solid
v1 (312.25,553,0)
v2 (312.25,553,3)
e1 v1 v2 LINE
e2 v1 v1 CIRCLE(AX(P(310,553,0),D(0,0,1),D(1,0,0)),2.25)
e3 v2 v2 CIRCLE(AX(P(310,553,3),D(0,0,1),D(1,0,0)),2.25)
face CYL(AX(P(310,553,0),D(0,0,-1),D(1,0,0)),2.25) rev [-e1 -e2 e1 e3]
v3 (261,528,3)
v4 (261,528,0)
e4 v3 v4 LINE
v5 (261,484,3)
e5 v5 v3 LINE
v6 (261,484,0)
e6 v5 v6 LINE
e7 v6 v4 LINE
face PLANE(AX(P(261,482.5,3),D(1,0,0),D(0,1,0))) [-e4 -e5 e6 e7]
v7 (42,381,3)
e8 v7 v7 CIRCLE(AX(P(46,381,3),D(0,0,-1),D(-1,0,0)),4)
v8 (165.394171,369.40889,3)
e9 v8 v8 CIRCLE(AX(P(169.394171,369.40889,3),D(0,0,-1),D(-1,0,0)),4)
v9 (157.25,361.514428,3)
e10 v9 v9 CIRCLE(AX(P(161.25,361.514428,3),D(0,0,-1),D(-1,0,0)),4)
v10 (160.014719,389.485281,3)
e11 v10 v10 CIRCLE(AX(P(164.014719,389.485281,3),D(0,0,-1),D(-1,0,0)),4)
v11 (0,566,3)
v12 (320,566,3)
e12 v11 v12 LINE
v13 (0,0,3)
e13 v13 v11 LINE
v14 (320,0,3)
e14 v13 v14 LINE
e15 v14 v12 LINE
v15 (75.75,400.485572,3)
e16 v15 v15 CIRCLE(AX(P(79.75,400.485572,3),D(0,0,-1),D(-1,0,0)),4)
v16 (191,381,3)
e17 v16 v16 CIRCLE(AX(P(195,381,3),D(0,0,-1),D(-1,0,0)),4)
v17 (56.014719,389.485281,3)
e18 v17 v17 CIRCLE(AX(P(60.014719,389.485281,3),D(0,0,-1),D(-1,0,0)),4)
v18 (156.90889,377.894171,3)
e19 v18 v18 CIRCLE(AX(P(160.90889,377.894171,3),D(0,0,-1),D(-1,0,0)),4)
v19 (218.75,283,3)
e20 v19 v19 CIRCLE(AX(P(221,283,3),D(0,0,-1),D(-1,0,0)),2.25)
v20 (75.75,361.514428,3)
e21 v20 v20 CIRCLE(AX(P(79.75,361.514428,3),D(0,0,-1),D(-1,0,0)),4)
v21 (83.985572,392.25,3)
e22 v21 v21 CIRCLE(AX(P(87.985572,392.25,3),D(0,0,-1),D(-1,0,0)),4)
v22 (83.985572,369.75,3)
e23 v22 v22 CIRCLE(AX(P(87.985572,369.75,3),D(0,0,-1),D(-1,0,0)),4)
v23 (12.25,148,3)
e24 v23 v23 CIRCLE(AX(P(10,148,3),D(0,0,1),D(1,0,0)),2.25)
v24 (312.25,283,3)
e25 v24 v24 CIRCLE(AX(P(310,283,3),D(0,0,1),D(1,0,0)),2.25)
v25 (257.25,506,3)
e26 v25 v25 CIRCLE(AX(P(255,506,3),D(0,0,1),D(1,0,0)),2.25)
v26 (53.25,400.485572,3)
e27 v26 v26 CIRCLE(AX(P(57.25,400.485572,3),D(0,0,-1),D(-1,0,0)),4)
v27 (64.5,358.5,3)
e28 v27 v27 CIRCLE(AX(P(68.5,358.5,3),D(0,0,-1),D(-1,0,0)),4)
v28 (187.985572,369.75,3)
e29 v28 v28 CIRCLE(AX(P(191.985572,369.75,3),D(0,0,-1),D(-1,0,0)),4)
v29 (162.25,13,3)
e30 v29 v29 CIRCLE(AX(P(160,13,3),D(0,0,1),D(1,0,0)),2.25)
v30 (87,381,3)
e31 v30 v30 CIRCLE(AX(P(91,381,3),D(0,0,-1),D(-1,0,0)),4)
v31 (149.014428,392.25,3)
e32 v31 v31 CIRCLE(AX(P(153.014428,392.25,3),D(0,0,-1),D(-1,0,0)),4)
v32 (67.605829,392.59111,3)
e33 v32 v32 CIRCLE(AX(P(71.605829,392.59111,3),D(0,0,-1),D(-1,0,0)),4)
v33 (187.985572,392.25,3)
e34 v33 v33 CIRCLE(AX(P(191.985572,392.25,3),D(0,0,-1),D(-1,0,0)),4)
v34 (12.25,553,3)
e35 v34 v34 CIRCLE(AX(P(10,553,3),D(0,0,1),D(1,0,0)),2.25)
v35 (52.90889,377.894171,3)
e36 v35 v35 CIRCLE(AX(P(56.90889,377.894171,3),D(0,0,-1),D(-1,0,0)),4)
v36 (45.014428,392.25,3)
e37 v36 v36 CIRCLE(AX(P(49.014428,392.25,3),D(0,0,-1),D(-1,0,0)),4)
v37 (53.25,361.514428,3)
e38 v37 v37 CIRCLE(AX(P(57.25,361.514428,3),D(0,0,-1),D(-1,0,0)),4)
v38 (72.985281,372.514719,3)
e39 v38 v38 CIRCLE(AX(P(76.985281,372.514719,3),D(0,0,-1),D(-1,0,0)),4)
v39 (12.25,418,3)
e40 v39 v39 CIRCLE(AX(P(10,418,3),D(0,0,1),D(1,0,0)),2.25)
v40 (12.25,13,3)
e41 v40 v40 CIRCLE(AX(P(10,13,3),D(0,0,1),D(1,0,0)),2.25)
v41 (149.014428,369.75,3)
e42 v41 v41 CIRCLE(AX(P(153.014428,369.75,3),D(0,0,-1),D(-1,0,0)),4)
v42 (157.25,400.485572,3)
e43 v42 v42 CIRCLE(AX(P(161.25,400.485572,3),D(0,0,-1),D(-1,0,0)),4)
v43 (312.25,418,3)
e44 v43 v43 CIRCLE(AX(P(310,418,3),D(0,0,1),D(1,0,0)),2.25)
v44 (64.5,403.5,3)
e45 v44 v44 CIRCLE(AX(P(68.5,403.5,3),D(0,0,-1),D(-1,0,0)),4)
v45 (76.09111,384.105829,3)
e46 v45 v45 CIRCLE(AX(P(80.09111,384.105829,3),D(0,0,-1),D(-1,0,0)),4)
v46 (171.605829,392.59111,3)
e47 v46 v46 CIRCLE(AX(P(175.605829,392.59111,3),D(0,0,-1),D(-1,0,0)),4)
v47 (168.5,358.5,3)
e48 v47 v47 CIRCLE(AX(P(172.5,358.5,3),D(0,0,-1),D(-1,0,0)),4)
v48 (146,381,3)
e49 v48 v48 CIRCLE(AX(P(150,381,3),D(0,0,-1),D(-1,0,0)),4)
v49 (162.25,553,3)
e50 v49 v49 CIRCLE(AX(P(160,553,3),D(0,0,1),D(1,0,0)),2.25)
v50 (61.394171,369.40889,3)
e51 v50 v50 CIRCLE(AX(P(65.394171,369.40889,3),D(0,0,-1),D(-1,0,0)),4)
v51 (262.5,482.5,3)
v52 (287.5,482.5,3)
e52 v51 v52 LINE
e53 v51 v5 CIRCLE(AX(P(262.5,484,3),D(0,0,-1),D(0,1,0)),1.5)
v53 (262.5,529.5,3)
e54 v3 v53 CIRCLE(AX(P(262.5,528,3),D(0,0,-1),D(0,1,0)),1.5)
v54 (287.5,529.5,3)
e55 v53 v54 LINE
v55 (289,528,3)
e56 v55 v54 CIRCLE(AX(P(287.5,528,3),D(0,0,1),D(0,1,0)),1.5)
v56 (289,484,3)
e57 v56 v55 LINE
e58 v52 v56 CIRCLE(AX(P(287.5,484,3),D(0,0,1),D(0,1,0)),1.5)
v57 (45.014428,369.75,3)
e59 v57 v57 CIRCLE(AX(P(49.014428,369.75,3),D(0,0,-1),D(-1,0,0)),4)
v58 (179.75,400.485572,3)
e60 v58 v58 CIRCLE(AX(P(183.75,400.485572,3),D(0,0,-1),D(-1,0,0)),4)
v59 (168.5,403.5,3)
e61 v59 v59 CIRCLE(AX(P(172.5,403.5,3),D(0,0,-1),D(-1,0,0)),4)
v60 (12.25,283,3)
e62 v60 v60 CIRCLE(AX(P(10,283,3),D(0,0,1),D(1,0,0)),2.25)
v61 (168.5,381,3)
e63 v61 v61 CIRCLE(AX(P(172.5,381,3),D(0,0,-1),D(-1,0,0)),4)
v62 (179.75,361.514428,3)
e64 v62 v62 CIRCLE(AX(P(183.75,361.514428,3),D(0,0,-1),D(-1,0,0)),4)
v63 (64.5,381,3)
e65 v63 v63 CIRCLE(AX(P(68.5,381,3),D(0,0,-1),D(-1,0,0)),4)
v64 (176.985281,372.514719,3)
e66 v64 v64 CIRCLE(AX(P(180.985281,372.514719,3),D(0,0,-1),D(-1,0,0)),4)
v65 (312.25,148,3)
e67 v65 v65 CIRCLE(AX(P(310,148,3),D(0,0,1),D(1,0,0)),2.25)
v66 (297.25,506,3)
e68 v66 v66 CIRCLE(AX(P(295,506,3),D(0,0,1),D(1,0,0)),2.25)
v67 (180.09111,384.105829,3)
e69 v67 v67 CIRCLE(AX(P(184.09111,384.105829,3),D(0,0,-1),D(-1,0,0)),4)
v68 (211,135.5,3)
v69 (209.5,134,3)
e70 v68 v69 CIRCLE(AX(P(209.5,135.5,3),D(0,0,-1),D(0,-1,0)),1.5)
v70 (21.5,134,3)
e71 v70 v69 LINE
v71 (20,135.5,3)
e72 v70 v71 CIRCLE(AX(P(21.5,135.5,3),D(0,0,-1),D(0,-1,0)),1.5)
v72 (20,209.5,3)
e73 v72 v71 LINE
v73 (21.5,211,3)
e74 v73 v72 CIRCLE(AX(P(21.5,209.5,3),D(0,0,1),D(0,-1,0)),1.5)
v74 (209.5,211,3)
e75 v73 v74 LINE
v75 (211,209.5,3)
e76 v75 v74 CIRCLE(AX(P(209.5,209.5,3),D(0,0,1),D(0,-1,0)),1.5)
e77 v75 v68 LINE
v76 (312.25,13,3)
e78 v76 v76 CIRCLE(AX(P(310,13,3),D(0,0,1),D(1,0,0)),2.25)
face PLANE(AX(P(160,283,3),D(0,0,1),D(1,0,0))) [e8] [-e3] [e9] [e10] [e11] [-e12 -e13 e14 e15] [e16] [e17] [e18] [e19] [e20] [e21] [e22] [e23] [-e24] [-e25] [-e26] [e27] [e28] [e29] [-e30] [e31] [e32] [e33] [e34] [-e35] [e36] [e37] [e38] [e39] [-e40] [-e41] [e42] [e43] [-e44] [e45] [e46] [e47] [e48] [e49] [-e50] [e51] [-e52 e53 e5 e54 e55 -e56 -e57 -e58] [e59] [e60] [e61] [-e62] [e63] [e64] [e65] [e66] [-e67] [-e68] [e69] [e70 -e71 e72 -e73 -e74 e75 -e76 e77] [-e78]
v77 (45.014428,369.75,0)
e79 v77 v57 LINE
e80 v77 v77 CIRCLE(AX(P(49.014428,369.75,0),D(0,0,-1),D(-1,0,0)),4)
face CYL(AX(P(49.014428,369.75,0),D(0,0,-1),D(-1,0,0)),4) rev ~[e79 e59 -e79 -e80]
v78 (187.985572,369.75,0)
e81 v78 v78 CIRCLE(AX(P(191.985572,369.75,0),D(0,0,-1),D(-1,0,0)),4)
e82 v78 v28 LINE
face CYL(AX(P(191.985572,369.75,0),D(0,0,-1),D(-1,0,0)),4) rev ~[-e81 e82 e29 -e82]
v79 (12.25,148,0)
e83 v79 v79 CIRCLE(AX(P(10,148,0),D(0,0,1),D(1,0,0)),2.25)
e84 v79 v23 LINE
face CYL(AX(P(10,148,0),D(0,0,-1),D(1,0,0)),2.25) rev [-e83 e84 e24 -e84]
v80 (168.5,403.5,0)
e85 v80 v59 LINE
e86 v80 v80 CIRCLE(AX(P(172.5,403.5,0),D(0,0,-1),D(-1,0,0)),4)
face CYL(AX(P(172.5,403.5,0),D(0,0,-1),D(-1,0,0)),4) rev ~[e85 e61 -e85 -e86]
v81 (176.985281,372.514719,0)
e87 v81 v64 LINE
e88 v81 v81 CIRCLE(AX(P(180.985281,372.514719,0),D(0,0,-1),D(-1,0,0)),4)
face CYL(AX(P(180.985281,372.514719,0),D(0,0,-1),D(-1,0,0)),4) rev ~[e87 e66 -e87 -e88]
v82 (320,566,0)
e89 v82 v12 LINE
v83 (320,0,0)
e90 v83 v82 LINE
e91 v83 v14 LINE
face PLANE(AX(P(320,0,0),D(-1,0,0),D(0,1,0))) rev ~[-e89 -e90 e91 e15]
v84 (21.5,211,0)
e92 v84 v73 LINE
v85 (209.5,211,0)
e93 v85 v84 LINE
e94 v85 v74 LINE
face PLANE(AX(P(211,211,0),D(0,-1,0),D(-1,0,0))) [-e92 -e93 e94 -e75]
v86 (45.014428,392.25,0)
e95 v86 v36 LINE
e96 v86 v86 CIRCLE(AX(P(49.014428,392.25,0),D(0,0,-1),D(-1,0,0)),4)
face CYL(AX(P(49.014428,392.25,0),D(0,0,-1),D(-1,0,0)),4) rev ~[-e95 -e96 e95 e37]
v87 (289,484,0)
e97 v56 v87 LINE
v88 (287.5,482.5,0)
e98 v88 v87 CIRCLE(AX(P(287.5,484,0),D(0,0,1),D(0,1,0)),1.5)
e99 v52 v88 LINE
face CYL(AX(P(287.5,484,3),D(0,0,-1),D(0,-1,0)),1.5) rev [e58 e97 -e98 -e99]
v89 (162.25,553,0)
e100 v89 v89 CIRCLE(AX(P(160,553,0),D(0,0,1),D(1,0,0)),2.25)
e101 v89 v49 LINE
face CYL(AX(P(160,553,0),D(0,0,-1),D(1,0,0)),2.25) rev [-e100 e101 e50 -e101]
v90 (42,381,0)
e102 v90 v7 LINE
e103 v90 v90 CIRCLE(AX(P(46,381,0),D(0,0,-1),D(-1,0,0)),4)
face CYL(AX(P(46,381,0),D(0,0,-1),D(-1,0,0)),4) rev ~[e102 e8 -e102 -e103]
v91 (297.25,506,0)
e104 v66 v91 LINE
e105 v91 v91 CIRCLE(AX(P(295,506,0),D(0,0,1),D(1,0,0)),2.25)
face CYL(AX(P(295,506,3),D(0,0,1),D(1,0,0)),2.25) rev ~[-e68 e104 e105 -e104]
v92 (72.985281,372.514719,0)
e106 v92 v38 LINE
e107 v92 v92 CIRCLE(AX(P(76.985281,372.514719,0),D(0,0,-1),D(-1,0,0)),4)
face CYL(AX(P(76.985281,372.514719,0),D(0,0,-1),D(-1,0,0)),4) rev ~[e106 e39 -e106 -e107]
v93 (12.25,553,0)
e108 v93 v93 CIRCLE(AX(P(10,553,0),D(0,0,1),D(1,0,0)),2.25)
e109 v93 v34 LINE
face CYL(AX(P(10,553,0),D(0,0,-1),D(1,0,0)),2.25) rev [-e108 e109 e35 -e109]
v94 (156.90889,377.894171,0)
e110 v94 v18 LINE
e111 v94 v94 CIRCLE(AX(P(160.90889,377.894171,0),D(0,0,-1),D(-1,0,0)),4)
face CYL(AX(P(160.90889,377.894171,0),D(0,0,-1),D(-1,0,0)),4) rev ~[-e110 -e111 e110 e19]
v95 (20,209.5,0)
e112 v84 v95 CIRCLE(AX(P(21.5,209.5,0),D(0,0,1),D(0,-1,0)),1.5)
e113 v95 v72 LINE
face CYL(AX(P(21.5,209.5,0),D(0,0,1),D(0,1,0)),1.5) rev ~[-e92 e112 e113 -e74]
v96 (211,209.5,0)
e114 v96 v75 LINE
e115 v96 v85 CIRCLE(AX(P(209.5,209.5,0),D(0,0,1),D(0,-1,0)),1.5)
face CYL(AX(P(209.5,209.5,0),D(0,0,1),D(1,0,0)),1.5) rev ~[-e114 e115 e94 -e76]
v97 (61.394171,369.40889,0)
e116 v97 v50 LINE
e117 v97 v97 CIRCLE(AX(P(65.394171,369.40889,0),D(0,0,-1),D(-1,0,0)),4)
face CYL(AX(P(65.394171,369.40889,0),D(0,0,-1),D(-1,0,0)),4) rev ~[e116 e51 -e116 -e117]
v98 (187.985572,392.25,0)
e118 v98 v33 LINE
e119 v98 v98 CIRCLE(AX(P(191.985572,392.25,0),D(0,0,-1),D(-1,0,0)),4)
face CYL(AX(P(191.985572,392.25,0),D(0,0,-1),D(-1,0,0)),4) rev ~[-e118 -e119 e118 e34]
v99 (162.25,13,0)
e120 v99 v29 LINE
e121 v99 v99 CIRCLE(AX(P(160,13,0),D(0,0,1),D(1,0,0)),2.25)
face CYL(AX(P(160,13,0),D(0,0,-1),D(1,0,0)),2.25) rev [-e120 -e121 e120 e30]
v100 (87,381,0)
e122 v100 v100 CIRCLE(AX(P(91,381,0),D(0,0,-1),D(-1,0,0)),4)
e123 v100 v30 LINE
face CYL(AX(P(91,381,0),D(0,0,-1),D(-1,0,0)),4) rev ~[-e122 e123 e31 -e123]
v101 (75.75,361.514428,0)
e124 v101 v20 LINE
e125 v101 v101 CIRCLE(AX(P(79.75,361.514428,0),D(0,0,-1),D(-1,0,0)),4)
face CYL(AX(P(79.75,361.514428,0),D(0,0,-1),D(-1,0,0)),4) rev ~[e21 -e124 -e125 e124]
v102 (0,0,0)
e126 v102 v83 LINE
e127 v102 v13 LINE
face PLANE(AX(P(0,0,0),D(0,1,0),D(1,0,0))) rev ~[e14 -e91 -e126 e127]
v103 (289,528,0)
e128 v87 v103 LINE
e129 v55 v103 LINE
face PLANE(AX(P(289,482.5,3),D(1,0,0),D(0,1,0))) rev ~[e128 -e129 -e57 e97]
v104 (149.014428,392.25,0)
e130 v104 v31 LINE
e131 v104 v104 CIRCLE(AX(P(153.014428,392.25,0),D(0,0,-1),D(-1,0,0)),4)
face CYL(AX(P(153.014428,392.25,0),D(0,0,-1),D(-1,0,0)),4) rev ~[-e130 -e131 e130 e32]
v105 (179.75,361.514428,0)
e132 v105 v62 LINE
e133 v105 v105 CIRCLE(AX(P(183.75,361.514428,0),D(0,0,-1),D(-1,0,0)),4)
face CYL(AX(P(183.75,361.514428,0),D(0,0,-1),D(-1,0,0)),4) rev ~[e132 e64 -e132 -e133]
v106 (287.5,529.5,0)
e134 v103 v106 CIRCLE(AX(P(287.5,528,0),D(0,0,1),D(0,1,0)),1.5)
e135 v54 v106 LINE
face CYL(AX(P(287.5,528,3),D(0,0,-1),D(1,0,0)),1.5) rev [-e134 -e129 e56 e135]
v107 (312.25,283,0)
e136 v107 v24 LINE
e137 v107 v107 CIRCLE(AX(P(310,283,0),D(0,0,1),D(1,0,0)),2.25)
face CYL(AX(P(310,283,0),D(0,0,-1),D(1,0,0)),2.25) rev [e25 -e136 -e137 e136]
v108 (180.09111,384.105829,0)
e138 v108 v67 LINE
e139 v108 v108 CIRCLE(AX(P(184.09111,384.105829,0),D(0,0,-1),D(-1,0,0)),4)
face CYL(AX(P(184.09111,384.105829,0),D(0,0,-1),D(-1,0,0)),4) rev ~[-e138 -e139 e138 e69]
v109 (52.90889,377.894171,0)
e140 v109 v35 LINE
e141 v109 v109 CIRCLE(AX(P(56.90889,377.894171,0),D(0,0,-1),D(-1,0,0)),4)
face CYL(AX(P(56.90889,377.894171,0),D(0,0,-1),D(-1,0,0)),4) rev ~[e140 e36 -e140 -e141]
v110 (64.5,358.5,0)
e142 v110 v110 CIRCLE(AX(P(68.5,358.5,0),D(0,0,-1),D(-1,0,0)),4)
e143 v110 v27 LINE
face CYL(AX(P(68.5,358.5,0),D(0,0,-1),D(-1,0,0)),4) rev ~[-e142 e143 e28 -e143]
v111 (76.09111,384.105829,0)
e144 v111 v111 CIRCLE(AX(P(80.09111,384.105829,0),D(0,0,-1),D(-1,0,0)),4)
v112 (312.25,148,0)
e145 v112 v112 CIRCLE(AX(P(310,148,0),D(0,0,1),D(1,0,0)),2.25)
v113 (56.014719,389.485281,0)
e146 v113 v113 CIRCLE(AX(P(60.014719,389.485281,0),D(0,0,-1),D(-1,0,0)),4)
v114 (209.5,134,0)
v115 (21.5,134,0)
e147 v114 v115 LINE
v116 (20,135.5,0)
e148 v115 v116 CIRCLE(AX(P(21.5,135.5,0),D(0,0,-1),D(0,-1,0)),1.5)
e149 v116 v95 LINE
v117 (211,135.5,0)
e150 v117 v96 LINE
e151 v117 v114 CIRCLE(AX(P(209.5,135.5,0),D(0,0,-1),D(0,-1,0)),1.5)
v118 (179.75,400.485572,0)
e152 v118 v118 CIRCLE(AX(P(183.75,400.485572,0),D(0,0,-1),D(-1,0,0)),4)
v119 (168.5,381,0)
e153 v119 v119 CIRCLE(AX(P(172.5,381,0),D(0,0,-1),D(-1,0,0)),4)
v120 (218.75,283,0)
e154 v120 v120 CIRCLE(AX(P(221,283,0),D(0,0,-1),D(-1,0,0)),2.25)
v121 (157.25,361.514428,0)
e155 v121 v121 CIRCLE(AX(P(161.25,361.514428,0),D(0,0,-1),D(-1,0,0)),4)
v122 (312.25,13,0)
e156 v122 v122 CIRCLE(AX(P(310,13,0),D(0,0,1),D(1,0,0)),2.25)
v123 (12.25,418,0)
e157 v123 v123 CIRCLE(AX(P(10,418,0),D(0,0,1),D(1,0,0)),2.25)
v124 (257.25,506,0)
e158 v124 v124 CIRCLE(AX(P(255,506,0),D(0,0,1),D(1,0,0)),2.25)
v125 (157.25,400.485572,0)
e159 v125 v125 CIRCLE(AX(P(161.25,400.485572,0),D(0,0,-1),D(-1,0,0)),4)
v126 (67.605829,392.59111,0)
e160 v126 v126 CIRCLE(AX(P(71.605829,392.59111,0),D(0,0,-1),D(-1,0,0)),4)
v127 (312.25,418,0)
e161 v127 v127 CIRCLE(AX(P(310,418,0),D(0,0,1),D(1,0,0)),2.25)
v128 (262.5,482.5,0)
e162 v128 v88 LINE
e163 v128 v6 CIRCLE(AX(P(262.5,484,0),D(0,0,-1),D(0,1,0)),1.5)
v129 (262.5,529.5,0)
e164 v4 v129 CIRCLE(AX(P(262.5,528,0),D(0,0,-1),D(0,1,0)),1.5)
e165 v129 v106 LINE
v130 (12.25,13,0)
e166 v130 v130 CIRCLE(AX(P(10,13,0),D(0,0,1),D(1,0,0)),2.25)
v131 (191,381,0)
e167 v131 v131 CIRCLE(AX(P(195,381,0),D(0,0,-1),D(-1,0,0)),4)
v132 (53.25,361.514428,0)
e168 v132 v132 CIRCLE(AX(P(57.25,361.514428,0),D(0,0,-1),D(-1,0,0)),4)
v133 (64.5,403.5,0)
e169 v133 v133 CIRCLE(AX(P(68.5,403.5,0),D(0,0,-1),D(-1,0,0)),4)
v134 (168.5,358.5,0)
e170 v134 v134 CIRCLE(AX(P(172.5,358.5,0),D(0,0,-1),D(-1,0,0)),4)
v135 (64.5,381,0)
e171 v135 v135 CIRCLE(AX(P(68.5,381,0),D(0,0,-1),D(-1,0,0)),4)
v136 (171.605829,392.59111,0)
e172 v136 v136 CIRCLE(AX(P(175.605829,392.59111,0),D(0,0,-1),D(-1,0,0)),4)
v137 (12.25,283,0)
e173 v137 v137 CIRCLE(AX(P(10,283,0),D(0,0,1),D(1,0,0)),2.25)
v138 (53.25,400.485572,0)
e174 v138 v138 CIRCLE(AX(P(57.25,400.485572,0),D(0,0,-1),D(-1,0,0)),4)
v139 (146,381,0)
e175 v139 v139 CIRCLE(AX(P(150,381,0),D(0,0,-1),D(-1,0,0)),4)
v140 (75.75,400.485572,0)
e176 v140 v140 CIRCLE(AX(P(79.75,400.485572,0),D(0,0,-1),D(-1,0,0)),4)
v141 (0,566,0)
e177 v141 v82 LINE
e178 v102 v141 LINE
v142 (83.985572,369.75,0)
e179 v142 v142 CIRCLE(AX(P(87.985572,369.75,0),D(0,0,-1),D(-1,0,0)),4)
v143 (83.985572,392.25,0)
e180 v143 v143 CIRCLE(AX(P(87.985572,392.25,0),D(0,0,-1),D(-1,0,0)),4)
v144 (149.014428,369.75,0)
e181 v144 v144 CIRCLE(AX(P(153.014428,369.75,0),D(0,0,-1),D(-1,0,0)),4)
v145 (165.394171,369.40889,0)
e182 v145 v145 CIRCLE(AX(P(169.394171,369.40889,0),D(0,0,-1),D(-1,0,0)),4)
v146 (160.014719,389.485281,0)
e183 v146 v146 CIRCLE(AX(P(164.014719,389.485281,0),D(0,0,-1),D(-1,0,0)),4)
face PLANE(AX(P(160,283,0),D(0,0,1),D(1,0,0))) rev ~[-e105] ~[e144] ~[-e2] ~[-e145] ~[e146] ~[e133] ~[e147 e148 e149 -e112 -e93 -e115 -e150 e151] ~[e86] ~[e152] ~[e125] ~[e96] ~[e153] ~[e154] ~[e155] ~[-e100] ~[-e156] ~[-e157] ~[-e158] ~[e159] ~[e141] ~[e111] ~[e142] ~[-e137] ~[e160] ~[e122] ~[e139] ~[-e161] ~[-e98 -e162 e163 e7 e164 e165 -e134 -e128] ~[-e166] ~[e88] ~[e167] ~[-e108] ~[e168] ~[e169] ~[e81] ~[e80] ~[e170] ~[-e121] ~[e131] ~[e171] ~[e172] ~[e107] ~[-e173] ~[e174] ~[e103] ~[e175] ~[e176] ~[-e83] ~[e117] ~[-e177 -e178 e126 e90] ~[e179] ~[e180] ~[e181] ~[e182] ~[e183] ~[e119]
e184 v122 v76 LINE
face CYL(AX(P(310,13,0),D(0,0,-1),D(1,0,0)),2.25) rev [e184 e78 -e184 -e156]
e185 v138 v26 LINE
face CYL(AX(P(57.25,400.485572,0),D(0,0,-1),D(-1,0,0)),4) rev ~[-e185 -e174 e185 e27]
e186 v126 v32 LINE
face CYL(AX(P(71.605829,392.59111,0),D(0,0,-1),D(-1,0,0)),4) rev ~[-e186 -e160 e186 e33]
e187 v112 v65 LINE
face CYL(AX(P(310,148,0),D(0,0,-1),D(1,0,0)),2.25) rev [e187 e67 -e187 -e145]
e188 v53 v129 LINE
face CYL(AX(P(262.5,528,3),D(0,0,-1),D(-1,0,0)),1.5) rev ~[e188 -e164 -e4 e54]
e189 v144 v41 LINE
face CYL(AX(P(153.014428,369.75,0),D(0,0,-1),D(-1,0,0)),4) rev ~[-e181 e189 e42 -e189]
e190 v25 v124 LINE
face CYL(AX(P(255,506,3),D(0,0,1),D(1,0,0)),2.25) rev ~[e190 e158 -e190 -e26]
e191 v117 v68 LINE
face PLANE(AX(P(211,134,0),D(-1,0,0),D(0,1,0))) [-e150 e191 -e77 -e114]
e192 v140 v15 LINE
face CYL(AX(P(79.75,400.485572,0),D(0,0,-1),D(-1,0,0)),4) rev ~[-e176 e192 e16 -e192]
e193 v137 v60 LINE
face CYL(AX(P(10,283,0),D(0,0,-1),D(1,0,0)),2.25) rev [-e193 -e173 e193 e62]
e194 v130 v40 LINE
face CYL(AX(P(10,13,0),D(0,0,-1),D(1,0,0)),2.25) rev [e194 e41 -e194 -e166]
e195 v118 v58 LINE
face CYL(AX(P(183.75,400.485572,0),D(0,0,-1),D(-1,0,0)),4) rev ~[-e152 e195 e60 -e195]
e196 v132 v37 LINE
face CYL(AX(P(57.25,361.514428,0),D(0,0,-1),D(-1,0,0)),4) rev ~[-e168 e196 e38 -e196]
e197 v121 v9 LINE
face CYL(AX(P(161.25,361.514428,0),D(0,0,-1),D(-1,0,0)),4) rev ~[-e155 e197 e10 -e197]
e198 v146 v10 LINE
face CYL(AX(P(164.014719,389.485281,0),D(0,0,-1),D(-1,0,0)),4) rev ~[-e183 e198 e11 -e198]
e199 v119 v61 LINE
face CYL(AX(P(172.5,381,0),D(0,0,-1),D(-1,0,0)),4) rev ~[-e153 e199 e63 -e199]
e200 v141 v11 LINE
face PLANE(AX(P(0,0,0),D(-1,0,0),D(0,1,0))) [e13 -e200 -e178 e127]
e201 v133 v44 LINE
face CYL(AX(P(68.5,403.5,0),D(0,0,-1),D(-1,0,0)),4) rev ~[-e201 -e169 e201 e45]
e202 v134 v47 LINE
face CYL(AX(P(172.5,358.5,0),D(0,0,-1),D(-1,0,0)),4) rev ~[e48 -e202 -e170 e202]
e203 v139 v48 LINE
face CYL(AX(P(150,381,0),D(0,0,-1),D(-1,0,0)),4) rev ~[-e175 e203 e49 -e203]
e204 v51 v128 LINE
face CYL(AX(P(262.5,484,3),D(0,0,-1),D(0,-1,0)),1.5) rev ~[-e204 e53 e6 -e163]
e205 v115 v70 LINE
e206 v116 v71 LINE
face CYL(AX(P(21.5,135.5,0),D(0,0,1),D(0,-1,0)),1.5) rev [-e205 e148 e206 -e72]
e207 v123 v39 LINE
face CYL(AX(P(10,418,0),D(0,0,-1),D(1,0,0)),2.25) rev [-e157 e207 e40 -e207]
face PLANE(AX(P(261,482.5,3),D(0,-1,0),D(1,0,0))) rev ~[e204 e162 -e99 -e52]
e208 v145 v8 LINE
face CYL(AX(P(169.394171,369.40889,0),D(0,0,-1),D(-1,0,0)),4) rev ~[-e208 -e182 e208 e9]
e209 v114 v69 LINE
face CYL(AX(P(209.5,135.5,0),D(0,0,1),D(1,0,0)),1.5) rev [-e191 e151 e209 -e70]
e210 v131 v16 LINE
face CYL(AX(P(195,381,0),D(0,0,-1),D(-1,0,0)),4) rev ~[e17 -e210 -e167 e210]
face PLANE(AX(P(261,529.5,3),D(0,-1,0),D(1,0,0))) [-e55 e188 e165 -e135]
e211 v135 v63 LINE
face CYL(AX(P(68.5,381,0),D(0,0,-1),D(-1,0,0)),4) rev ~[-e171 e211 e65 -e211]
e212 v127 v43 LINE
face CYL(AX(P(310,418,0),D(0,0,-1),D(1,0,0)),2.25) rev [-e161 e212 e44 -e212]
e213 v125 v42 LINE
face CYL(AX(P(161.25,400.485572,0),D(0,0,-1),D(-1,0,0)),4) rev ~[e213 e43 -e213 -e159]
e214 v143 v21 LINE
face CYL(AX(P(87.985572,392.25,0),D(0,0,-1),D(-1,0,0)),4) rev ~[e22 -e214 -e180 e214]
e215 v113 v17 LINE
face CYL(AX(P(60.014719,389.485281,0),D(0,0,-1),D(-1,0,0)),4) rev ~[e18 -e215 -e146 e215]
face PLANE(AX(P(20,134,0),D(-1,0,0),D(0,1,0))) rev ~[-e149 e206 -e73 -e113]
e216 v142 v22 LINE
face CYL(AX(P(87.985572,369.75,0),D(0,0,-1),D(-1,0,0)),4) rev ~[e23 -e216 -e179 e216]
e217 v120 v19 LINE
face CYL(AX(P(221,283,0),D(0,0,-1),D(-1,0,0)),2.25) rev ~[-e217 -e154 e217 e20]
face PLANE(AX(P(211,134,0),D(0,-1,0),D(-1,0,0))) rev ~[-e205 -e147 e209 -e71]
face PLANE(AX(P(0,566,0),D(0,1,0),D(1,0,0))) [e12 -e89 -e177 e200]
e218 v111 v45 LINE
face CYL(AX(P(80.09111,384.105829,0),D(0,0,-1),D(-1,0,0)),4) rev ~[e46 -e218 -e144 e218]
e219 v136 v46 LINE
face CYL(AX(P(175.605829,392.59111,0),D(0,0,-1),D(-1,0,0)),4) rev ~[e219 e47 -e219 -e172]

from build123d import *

# Parameters (mm, degrees)
SKETCH_1_W          = 320
SKETCH_1_H          = 566
SKETCH_1_R          = 2.25
EXTRUDE_1_DEPTH     = 3
SKETCH_3_W          = 191
SKETCH_3_H          = 77
CUT_EXTRUDE_2_DEPTH = 4
SKETCH3_R           = 2.25
CUT_EXTRUDE1_DEPTH  = 4
SKETCH_4_R          = 2.25
SKETCH_4_W          = 28
SKETCH_4_H          = 47
CUT_EXTRUDE_3_DEPTH = 4
FILLET_1_R          = 1.5
SKETCH_5_R          = 4
CUT_EXTRUDE_4_DEPTH = 4
FILLET_2_R          = 1.5


with BuildPart() as part:
    # Эскиз1 → Бобышка-Вытянуть1 (new body)
    with BuildSketch(Plane.XY):
        with Locations((160, 283)):
            Rectangle(SKETCH_1_W, SKETCH_1_H)
        with Locations((10, 553)):
            Circle(SKETCH_1_R, mode=Mode.SUBTRACT)
        with Locations((10, 418)):
            Circle(SKETCH_1_R, mode=Mode.SUBTRACT)
        with Locations((10, 283)):
            Circle(SKETCH_1_R, mode=Mode.SUBTRACT)
        with Locations((10, 148)):
            Circle(SKETCH_1_R, mode=Mode.SUBTRACT)
        with Locations((10, 13)):
            Circle(SKETCH_1_R, mode=Mode.SUBTRACT)
        with Locations((310, 13)):
            Circle(SKETCH_1_R, mode=Mode.SUBTRACT)
        with Locations((160, 553)):
            Circle(SKETCH_1_R, mode=Mode.SUBTRACT)
        with Locations((310, 553)):
            Circle(SKETCH_1_R, mode=Mode.SUBTRACT)
        with Locations((310, 418)):
            Circle(SKETCH_1_R, mode=Mode.SUBTRACT)
        with Locations((310, 283)):
            Circle(SKETCH_1_R, mode=Mode.SUBTRACT)
        with Locations((310, 148)):
            Circle(SKETCH_1_R, mode=Mode.SUBTRACT)
        with Locations((160, 13)):
            Circle(SKETCH_1_R, mode=Mode.SUBTRACT)
    extrude(amount=EXTRUDE_1_DEPTH)

    # Эскиз3 → Вырез-Вытянуть2 (cut, through all)
    with BuildSketch(Plane(origin=(0, 0, 0), x_dir=(-1, 0, 0), z_dir=(0, 0, -1))):
        with Locations((-115.5, 172.5)):
            Rectangle(SKETCH_3_W, SKETCH_3_H)
    extrude(amount=-CUT_EXTRUDE_2_DEPTH, mode=Mode.SUBTRACT)

    # Sketch3 → Cut-Extrude1 (cut, through all)
    with BuildSketch(Plane(origin=(0, 0, 0), x_dir=(-1, 0, 0), z_dir=(0, 0, -1))):
        with Locations((-101, 163)):
            Circle(SKETCH3_R)
        with Locations((-221, 283)):
            Circle(SKETCH3_R)
    extrude(amount=-CUT_EXTRUDE1_DEPTH, mode=Mode.SUBTRACT)

    # Эскиз4 → Вырез-Вытянуть3 (cut, through all)
    with BuildSketch(Plane.XY.offset(3)):
        with Locations((255, 506)):
            Circle(SKETCH_4_R)
        with Locations((295, 506)):
            Circle(SKETCH_4_R)
        with Locations((275, 506)):
            Rectangle(SKETCH_4_W, SKETCH_4_H)
    extrude(amount=-CUT_EXTRUDE_3_DEPTH, mode=Mode.SUBTRACT)

    # Скругление1
    fillet_1_edges = [part.edges().sort_by_distance(p)[0] for p in [
        (211, 211, 1.5),
        (20, 211, 1.5),
        (20, 134, 1.5),
        (211, 134, 1.5),
    ]]
    fillet(fillet_1_edges, radius=FILLET_1_R)

    # Эскиз5 → Вырез-Вытянуть4 (cut, through all)
    with BuildSketch(Plane(origin=(0, 0, 0), x_dir=(-1, 0, 0), z_dir=(0, 0, -1))):
        with Locations((-172.5, 381)):
            Circle(SKETCH_5_R)
        with Locations((-172.5, 358.5)):
            Circle(SKETCH_5_R)
        with Locations((-180.985281374, 372.514718626)):
            Circle(SKETCH_5_R)
        with Locations((-183.75, 361.514428415)):
            Circle(SKETCH_5_R)
        with Locations((-191.985571585, 369.75)):
            Circle(SKETCH_5_R)
        with Locations((-195, 381)):
            Circle(SKETCH_5_R)
        with Locations((-191.985571585, 392.25)):
            Circle(SKETCH_5_R)
        with Locations((-183.75, 400.485571585)):
            Circle(SKETCH_5_R)
        with Locations((-172.5, 403.5)):
            Circle(SKETCH_5_R)
        with Locations((-161.25, 400.485571585)):
            Circle(SKETCH_5_R)
        with Locations((-153.014428415, 392.25)):
            Circle(SKETCH_5_R)
        with Locations((-150, 381)):
            Circle(SKETCH_5_R)
        with Locations((-153.014428415, 369.75)):
            Circle(SKETCH_5_R)
        with Locations((-161.25, 361.514428415)):
            Circle(SKETCH_5_R)
        with Locations((-184.091109915, 384.105828541)):
            Circle(SKETCH_5_R)
        with Locations((-175.605828541, 392.591109915)):
            Circle(SKETCH_5_R)
        with Locations((-164.014718626, 389.485281374)):
            Circle(SKETCH_5_R)
        with Locations((-160.908890085, 377.894171459)):
            Circle(SKETCH_5_R)
        with Locations((-169.394171459, 369.408890085)):
            Circle(SKETCH_5_R)
        with Locations((-68.5, 381)):
            Circle(SKETCH_5_R)
        with Locations((-68.5, 358.5)):
            Circle(SKETCH_5_R)
        with Locations((-76.985281374, 372.514718626)):
            Circle(SKETCH_5_R)
        with Locations((-79.75, 361.514428415)):
            Circle(SKETCH_5_R)
        with Locations((-87.985571585, 369.75)):
            Circle(SKETCH_5_R)
        with Locations((-91, 381)):
            Circle(SKETCH_5_R)
        with Locations((-87.985571585, 392.25)):
            Circle(SKETCH_5_R)
        with Locations((-79.75, 400.485571585)):
            Circle(SKETCH_5_R)
        with Locations((-68.5, 403.5)):
            Circle(SKETCH_5_R)
        with Locations((-57.25, 400.485571585)):
            Circle(SKETCH_5_R)
        with Locations((-49.014428415, 392.25)):
            Circle(SKETCH_5_R)
        with Locations((-46, 381)):
            Circle(SKETCH_5_R)
        with Locations((-49.014428415, 369.75)):
            Circle(SKETCH_5_R)
        with Locations((-57.25, 361.514428415)):
            Circle(SKETCH_5_R)
        with Locations((-80.091109915, 384.105828541)):
            Circle(SKETCH_5_R)
        with Locations((-71.605828541, 392.591109915)):
            Circle(SKETCH_5_R)
        with Locations((-60.014718626, 389.485281374)):
            Circle(SKETCH_5_R)
        with Locations((-56.908890085, 377.894171459)):
            Circle(SKETCH_5_R)
        with Locations((-65.394171459, 369.408890085)):
            Circle(SKETCH_5_R)
    extrude(amount=-CUT_EXTRUDE_4_DEPTH, mode=Mode.SUBTRACT)

    # Скругление2
    fillet_2_edges = [part.edges().sort_by_distance(p)[0] for p in [
        (261, 482.5, 1.5),
        (261, 529.5, 1.5),
        (289, 529.5, 1.5),
        (289, 482.5, 1.5),
    ]]
    fillet(fillet_2_edges, radius=FILLET_2_R)


solid = part.part
